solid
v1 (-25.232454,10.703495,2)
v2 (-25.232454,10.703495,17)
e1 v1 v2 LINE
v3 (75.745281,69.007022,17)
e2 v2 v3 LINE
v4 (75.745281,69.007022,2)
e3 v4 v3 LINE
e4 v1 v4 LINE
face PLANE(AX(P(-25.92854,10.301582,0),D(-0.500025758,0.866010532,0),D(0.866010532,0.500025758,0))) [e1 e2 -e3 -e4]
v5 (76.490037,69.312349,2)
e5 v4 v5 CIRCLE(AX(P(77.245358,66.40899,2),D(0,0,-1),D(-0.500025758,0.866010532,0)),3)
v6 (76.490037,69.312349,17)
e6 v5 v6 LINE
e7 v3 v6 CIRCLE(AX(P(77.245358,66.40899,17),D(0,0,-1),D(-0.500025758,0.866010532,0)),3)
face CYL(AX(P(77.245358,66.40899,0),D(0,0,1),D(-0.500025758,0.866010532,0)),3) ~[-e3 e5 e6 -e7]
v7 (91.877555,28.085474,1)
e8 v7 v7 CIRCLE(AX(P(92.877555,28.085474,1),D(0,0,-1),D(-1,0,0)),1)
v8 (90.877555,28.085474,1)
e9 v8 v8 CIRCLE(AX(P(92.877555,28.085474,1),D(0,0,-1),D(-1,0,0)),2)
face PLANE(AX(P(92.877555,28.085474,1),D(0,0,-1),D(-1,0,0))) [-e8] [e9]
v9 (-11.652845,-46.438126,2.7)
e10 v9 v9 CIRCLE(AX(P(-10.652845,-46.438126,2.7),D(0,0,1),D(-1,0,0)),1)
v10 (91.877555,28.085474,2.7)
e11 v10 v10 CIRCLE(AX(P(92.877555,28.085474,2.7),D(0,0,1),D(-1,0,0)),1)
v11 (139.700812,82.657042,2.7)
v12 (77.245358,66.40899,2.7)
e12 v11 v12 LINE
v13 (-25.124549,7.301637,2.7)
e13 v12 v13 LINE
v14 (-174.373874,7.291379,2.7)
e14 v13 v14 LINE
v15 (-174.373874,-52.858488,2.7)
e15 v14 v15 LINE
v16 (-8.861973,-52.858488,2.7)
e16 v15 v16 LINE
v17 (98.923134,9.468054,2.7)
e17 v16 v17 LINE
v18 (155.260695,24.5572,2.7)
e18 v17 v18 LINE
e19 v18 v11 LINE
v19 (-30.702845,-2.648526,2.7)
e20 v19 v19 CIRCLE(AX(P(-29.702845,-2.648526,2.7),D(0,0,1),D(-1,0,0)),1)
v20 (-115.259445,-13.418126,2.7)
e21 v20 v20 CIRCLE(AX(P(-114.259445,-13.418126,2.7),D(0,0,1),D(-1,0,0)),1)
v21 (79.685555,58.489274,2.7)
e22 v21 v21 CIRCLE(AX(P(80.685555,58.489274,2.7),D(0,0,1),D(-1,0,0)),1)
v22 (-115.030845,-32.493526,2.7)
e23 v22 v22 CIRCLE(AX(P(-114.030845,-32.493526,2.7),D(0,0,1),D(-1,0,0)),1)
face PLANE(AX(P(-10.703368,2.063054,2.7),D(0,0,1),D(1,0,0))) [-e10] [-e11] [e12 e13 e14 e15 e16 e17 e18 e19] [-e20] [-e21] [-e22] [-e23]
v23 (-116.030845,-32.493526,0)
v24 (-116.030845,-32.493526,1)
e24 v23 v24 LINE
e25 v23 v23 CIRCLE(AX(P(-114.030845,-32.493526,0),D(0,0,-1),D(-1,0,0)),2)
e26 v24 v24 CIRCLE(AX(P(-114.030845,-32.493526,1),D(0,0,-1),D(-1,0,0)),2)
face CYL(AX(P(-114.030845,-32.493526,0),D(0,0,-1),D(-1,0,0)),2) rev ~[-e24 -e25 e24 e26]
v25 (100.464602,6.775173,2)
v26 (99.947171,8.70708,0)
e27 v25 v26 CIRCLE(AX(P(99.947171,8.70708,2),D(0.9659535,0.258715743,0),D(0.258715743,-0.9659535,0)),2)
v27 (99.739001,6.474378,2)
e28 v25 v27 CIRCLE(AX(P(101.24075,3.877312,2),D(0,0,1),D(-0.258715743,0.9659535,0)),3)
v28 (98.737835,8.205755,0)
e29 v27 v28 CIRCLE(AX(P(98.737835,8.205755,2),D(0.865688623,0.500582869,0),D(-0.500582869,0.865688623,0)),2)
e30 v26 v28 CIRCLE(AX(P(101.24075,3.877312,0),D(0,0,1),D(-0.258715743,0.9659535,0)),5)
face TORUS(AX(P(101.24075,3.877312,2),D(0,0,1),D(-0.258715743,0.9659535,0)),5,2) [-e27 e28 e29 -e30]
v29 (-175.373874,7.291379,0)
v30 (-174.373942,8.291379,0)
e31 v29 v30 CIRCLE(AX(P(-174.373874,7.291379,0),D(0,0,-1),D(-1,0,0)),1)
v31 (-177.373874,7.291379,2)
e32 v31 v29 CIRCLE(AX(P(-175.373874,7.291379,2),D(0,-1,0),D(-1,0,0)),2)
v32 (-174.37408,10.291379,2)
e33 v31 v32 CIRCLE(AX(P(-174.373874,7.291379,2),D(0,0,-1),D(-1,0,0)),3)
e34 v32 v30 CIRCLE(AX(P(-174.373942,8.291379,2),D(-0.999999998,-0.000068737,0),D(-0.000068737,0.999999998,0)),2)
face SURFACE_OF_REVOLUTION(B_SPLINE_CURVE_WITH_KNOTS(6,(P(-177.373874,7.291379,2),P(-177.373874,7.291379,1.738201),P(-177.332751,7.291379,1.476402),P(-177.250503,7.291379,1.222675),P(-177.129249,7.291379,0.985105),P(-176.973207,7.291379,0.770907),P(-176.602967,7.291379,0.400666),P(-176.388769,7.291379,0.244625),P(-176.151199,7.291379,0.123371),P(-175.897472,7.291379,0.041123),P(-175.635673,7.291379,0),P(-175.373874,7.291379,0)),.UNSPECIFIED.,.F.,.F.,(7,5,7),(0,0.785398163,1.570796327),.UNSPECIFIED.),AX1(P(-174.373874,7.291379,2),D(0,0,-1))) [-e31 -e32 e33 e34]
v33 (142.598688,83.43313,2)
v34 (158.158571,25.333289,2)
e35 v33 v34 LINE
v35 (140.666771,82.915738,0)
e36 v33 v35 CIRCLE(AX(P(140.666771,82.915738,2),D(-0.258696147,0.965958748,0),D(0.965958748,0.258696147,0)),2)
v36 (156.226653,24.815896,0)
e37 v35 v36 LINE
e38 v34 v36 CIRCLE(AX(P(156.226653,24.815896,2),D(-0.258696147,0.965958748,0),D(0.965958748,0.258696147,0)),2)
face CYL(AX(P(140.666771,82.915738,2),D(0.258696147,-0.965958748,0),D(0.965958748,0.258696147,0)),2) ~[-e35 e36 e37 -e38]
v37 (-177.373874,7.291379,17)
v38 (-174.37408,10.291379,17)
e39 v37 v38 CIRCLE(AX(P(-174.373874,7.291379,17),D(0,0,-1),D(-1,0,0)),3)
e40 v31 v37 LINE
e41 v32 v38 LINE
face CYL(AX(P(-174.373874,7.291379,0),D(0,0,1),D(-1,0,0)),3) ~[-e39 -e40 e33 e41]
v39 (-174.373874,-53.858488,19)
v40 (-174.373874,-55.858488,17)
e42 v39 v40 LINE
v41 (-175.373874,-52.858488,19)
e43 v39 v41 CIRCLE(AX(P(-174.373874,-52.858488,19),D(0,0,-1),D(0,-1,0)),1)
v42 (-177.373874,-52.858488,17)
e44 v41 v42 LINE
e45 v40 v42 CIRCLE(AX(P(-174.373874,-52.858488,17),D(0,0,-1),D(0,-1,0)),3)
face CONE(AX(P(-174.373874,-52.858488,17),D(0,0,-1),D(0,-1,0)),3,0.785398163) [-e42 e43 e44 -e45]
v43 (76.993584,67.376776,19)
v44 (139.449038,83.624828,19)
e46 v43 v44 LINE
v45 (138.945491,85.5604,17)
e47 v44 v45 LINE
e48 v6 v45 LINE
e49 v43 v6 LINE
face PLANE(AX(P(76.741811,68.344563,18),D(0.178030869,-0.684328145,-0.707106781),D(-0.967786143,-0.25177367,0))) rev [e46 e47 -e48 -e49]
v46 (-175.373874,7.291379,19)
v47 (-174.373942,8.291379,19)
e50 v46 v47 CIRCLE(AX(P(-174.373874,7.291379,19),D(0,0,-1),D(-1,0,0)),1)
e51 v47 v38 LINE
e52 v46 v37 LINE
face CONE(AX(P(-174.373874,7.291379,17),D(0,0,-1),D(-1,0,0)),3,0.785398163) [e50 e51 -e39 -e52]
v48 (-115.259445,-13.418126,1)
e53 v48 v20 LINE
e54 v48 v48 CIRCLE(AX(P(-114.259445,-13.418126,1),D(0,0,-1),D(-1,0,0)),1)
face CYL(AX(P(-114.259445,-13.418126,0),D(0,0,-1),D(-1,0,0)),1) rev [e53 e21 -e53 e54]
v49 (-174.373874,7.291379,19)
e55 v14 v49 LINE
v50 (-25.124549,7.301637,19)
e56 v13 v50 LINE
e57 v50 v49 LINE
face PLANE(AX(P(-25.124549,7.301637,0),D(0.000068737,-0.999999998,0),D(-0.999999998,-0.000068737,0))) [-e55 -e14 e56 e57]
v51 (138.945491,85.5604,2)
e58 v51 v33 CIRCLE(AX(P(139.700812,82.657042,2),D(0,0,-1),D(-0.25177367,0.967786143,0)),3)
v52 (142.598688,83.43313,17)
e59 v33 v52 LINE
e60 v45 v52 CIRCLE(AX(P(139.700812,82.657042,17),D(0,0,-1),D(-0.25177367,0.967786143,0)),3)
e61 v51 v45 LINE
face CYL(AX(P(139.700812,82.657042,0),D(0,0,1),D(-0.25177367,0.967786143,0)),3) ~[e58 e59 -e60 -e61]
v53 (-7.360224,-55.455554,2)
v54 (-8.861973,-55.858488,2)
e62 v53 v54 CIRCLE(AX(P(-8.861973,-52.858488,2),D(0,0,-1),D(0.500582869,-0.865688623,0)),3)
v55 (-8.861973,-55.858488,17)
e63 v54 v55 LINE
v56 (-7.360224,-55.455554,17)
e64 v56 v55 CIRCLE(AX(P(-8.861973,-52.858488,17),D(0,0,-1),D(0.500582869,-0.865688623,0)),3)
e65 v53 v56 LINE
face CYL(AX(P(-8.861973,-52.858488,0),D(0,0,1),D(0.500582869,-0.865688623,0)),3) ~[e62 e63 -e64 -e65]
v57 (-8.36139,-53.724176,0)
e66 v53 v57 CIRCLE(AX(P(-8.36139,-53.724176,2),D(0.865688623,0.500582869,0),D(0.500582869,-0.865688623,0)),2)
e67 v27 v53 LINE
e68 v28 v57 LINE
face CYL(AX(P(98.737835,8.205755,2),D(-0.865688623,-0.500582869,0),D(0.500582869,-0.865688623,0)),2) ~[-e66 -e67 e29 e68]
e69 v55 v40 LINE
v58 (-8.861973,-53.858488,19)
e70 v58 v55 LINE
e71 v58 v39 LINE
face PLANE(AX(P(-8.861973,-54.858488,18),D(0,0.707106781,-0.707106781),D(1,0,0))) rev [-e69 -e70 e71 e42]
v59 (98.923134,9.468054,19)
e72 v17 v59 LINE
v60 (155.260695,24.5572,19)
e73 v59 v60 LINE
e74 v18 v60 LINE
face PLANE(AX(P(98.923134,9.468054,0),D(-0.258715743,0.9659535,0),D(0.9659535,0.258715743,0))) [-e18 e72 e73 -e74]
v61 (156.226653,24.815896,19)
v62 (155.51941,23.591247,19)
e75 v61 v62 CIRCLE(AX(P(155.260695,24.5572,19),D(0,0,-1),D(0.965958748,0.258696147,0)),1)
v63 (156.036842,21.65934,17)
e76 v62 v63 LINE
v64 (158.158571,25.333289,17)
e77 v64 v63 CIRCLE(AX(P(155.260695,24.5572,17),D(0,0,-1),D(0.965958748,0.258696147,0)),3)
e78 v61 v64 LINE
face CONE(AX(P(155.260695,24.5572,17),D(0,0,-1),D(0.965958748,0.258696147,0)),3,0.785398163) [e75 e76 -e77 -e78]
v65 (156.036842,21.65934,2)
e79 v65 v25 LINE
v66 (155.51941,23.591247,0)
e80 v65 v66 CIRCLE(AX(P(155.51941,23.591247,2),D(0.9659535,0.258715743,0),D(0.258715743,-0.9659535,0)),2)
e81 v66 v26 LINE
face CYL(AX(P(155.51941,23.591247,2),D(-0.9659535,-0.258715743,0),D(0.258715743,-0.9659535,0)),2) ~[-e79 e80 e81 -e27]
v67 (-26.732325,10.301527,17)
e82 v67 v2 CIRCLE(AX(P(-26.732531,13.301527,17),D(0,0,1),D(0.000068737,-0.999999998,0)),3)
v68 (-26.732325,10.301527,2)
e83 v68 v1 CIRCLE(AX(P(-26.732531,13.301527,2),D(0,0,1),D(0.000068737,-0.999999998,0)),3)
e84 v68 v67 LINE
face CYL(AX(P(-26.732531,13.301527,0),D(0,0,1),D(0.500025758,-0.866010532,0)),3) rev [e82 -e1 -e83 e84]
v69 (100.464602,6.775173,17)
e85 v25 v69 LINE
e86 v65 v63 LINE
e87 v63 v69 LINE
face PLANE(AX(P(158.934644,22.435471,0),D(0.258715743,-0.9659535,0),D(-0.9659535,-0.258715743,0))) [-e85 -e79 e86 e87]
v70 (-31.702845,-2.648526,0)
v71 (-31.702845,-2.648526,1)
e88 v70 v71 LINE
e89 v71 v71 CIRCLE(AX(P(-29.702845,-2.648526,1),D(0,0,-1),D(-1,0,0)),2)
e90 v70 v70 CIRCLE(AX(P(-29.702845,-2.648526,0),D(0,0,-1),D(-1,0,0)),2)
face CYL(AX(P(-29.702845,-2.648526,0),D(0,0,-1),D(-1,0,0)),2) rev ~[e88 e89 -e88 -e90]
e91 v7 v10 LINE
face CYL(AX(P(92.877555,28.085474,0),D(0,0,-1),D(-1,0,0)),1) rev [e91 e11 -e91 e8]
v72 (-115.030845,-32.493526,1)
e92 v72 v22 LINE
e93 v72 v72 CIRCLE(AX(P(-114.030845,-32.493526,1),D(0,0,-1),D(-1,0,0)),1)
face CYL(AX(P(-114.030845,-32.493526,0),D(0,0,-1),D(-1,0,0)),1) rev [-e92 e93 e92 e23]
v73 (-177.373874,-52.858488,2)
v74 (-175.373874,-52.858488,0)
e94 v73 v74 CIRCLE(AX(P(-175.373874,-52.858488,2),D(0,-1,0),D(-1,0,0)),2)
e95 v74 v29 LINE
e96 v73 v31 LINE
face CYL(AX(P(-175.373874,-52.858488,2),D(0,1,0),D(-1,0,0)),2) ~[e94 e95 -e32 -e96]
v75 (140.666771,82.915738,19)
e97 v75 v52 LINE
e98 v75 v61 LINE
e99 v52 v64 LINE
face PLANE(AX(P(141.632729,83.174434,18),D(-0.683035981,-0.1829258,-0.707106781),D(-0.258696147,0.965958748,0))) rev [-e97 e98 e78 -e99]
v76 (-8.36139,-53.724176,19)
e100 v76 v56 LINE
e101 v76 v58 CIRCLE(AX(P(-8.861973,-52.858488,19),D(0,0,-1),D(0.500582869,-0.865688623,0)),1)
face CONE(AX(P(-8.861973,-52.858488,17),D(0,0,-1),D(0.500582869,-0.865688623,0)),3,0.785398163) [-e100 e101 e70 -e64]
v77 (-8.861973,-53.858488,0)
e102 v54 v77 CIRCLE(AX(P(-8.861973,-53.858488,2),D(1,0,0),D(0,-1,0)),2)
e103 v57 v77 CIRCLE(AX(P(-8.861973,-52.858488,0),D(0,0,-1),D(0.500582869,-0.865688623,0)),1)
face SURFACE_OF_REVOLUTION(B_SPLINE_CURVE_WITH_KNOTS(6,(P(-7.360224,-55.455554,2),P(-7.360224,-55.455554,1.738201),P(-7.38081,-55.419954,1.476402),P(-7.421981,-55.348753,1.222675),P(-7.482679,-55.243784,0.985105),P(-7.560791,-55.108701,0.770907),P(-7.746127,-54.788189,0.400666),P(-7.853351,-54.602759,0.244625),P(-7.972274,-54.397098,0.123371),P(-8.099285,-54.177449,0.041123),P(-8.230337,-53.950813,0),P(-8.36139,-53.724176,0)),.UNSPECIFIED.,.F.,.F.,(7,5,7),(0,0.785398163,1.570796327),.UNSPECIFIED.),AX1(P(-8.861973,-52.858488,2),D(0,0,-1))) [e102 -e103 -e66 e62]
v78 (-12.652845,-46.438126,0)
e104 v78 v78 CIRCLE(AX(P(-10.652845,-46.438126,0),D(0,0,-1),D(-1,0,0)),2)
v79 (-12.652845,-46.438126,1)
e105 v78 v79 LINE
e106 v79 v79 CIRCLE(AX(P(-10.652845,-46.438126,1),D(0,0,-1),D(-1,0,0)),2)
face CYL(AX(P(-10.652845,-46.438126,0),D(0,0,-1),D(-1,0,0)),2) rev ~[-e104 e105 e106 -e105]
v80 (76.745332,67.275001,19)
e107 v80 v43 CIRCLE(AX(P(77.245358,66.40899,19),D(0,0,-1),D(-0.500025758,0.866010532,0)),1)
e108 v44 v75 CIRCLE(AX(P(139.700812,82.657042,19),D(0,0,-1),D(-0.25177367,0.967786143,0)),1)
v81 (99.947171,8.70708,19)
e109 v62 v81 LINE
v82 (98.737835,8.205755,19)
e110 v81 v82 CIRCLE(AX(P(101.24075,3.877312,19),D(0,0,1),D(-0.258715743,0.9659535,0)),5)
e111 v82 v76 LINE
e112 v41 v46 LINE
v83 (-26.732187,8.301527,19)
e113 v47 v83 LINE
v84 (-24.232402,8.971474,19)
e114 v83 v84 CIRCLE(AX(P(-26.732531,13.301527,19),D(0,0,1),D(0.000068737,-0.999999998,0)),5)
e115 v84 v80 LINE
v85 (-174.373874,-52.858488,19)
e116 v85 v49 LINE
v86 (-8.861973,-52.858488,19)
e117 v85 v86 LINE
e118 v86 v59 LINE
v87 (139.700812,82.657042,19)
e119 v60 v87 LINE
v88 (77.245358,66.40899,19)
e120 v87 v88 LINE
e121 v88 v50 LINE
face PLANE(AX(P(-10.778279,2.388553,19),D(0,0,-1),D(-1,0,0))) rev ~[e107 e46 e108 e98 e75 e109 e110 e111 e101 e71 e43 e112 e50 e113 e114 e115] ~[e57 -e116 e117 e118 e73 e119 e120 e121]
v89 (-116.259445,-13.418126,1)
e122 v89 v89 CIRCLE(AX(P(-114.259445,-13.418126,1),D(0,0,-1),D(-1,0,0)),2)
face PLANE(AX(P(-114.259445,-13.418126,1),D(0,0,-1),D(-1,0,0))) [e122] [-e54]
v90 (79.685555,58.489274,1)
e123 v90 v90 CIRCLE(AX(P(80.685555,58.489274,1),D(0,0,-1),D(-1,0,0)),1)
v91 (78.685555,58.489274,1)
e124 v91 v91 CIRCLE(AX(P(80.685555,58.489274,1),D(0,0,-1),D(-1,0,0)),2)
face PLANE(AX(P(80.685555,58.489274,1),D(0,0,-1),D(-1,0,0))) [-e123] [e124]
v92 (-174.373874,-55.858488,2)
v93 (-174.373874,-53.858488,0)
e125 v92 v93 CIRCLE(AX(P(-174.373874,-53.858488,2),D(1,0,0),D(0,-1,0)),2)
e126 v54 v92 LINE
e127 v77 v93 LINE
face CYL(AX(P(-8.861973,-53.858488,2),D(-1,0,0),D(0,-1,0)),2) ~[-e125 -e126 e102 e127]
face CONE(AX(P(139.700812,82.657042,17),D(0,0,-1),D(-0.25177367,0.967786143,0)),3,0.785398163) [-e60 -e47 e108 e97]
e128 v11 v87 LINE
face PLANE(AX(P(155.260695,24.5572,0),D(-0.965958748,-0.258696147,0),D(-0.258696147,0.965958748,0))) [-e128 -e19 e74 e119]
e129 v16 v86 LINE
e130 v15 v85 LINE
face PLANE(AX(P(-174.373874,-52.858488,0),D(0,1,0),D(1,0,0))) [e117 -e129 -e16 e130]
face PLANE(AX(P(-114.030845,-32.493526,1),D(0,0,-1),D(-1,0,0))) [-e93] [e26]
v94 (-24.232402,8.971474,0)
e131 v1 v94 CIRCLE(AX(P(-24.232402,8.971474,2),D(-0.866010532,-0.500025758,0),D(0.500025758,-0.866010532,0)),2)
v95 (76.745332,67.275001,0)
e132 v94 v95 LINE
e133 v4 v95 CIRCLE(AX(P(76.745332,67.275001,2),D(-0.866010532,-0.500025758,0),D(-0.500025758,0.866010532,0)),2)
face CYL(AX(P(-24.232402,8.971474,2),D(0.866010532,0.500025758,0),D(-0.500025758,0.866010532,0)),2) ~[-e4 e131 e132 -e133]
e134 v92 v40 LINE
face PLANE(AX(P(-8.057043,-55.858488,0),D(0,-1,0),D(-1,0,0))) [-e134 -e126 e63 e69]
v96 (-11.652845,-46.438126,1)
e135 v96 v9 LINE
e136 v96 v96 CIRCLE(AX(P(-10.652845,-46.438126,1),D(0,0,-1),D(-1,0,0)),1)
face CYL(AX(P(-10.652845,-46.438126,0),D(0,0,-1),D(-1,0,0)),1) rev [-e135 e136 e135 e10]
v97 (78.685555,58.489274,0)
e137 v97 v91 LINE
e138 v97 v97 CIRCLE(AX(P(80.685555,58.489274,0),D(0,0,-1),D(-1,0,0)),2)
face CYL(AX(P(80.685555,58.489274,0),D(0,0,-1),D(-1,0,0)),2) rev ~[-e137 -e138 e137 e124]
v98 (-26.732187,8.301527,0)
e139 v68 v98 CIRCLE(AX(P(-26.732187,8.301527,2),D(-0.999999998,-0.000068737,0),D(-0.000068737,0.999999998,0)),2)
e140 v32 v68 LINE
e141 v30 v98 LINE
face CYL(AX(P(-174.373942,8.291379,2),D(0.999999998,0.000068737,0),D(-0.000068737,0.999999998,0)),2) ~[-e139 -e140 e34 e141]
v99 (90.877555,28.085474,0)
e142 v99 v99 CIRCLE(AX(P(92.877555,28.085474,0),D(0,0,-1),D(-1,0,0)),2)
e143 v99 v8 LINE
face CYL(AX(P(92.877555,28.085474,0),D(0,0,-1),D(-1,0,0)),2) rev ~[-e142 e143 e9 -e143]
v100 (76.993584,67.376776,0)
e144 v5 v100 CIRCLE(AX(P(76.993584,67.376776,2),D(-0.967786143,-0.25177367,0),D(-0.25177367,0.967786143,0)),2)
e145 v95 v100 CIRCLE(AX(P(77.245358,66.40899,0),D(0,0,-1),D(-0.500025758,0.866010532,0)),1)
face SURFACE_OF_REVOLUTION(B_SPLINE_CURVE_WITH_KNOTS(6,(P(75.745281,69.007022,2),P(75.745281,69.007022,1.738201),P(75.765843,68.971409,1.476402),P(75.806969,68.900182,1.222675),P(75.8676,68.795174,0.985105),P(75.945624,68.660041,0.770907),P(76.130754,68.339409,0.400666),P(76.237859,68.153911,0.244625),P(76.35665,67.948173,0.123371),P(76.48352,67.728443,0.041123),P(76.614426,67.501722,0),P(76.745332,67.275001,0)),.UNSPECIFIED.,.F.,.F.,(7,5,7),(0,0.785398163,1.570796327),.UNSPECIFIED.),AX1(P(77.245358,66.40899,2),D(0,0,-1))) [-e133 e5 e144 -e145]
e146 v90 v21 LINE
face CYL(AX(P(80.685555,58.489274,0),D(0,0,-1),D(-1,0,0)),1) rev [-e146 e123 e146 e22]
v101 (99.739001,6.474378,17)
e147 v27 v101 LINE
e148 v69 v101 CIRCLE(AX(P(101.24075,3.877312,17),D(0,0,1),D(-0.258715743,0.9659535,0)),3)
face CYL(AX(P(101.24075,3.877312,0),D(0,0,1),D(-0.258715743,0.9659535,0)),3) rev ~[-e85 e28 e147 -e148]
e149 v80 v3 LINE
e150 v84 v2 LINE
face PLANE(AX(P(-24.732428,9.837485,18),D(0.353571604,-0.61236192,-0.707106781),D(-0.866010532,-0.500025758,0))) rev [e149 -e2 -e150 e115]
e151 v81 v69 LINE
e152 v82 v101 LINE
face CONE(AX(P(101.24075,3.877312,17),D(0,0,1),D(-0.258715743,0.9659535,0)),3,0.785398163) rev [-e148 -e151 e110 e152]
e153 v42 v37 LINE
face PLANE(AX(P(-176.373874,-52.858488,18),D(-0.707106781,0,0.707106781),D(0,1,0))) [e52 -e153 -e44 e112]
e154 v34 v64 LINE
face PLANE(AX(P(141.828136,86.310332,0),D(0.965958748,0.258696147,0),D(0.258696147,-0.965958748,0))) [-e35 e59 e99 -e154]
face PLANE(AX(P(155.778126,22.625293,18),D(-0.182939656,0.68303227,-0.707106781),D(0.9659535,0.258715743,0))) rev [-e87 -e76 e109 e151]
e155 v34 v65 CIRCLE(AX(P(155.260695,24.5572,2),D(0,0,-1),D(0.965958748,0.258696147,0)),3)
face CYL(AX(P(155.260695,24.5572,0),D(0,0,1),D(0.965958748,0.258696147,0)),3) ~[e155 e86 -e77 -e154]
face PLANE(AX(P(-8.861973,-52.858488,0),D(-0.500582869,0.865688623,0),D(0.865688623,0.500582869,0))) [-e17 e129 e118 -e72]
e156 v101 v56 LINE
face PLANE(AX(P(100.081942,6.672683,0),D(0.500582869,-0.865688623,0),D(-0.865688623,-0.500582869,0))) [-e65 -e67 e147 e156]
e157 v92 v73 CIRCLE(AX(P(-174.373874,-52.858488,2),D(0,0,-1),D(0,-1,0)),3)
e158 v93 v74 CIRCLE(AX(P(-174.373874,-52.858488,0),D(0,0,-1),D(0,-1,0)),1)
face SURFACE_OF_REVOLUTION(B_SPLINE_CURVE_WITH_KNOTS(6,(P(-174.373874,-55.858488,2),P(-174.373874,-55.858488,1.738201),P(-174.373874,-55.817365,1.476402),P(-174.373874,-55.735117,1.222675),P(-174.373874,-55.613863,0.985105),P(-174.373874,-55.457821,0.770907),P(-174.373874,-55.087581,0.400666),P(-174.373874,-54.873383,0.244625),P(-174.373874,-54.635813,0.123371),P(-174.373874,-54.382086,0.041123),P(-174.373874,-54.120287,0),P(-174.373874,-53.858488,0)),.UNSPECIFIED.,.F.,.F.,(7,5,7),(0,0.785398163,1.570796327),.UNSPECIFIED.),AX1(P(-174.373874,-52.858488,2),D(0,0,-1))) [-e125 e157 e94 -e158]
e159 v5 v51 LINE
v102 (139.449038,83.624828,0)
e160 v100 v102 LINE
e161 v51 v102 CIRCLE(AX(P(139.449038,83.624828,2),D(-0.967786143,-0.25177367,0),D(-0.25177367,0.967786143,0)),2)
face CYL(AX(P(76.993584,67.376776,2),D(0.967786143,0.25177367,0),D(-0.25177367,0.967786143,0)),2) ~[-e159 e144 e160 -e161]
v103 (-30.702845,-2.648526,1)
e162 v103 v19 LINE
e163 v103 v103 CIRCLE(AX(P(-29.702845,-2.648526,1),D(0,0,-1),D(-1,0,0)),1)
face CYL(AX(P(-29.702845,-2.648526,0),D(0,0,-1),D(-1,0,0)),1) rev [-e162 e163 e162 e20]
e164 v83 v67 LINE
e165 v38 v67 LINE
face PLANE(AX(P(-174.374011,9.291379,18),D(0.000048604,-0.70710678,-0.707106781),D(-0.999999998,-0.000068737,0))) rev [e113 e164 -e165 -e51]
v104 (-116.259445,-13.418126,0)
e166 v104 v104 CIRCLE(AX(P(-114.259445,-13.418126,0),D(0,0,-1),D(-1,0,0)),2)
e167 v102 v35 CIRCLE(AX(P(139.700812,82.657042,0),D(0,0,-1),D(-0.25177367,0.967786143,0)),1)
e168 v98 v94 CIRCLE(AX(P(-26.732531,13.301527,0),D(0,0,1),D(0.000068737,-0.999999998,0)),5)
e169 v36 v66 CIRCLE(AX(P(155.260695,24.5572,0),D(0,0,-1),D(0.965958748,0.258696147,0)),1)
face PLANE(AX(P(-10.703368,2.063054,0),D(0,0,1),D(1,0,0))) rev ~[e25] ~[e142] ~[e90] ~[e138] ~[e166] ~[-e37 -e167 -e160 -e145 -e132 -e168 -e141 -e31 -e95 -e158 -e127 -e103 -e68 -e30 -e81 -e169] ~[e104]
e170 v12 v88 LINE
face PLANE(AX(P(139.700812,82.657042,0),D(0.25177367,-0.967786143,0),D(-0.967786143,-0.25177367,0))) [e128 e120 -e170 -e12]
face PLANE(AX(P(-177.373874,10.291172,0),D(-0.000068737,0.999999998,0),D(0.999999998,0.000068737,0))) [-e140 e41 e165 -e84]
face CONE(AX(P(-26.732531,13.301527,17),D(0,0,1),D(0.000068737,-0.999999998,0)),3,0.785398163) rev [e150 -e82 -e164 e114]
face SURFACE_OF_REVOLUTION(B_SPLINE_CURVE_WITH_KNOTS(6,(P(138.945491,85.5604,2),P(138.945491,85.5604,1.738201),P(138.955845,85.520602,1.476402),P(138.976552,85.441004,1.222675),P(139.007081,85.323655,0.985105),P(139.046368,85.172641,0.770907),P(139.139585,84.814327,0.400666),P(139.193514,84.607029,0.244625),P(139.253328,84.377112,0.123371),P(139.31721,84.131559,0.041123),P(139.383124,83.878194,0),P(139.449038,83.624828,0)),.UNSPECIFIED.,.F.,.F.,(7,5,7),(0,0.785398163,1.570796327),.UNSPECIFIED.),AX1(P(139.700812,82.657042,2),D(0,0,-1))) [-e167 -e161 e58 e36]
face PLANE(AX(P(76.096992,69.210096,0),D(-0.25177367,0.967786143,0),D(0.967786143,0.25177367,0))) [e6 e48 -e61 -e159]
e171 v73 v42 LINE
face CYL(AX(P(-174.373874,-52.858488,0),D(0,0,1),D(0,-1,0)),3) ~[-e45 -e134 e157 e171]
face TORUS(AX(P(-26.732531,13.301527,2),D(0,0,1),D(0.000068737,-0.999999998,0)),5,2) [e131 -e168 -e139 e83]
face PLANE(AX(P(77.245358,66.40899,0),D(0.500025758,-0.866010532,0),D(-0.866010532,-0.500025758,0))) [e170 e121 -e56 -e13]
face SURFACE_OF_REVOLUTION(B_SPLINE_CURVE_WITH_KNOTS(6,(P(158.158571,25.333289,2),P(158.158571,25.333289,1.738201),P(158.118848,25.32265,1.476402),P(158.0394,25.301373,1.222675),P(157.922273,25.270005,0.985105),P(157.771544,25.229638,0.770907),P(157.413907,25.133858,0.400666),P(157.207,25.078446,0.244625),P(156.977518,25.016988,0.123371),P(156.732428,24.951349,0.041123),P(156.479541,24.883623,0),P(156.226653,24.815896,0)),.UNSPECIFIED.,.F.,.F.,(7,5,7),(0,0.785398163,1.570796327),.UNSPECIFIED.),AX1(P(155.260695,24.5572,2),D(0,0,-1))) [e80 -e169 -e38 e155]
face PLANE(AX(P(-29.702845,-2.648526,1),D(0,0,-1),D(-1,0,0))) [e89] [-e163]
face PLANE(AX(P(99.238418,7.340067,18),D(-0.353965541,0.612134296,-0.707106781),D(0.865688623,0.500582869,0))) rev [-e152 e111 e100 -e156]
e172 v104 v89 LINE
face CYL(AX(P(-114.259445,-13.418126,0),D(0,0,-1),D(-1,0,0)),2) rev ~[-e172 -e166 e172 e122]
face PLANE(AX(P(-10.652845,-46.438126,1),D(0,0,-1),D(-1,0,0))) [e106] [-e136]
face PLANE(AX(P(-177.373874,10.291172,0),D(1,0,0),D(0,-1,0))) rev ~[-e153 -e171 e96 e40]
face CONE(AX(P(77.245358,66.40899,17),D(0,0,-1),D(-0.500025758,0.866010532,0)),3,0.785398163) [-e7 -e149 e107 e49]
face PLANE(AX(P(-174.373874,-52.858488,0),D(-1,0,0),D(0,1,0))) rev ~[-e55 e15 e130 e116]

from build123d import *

# Parameters (mm, degrees)
BOSS_EXTRU_1_DEPTH      = 19
CONG_1_R                = 3
ESQUISSE1_R             = 1
BOSS_EXTRU_2_DEPTH      = 2.7
ESQUISSE2_R             = 2
ESQUISSE2_R_2           = 1
ENL_V_MAT_EXTRU_1_DEPTH = 1
CHANFREIN1_SIZE         = 2
CONG_2_R                = 2


with BuildPart() as part:
    # Model → Boss.-Extru.1 (new body)
    with BuildSketch(Plane.XY):
        Polygon((-25.928539703, 10.301582208), (76.096991945, 69.210096437), (141.828136311, 86.310332452), (158.934643692, 22.435471273), (100.081941761, 6.672683012), (-8.057042666, -55.858487698), (-177.373873722, -55.858487698), (-177.373873722, -50.687645053), (-177.373873722, 10.291172324), align=None)
        Polygon((-25.124548608, 7.301637465), (-174.373873722, 7.291378528), (-174.373873722, -50.687645053), (-174.373873722, -52.858487698), (-8.861972593, -52.858487698), (98.923133978, 9.468053786), (155.26069475, 24.557200291), (139.700811798, 82.657041562), (77.245358051, 66.408990356), align=None, mode=Mode.SUBTRACT)
    extrude(amount=BOSS_EXTRU_1_DEPTH)

    # Congé1
    cong_1_edges = [part.edges().sort_by_distance(p)[0] for p in [
        (76.096991945, 69.210096437, 9.5),
        (141.828136311, 86.310332452, 9.5),
        (158.934643692, 22.435471273, 9.5),
        (100.081941761, 6.672683012, 9.5),
        (-8.057042666, -55.858487698, 9.5),
        (-177.373873722, -55.858487698, 9.5),
        (-177.373873722, 10.291172324, 9.5),
        (-25.928539703, 10.301582208, 9.5),
    ]]
    fillet(cong_1_edges, radius=CONG_1_R)

    # Esquisse1 → Boss.-Extru.2 (add)
    with BuildSketch(Plane.XY):
        Polygon((-25.124548608, 7.301637465), (-174.373873722, 7.291378528), (-174.373873722, -50.687645053), (-174.373873722, -52.858487698), (-8.861972593, -52.858487698), (98.923133978, 9.468053786), (155.26069475, 24.557200291), (139.700811798, 82.657041562), (77.245358051, 66.408990356), align=None)
        with Locations(Location((-114.259444544, -13.418125698, 0), (0, 0, 180))):
            Circle(ESQUISSE1_R, mode=Mode.SUBTRACT)
        with Locations(Location((-114.030844544, -32.493525698, 0), (0, 0, 180))):
            Circle(ESQUISSE1_R, mode=Mode.SUBTRACT)
        with Locations(Location((-29.702844544, -2.648525698, 0), (0, 0, 180))):
            Circle(ESQUISSE1_R, mode=Mode.SUBTRACT)
        with Locations(Location((-10.652844544, -46.438125698, 0), (0, 0, 180))):
            Circle(ESQUISSE1_R, mode=Mode.SUBTRACT)
        with Locations(Location((80.685555456, 58.489274302, 0), (0, 0, 180))):
            Circle(ESQUISSE1_R, mode=Mode.SUBTRACT)
        with Locations(Location((92.877555456, 28.085474302, 0), (0, 0, 180))):
            Circle(ESQUISSE1_R, mode=Mode.SUBTRACT)
    extrude(amount=BOSS_EXTRU_2_DEPTH)

    # Esquisse2 → Enlèv. mat.-Extru.1 (cut)
    # profile 1 of 6: a face of its own
    with BuildSketch(Plane(origin=(0, 0, 0), x_dir=(-1, 0, 0), z_dir=(0, 0, -1))):
        with Locations((-80.685555456, 58.489274302)):
            Circle(ESQUISSE2_R)
        with Locations((-80.685555456, 58.489274302)):
            Circle(ESQUISSE2_R_2, mode=Mode.SUBTRACT)
    # profile 2 of 6: a face of its own
    with BuildSketch(Plane(origin=(0, 0, 0), x_dir=(-1, 0, 0), z_dir=(0, 0, -1))):
        with Locations((-92.877555456, 28.085474302)):
            Circle(ESQUISSE2_R)
        with Locations((-92.877555456, 28.085474302)):
            Circle(ESQUISSE2_R_2, mode=Mode.SUBTRACT)
    # profile 3 of 6: a face of its own
    with BuildSketch(Plane(origin=(0, 0, 0), x_dir=(-1, 0, 0), z_dir=(0, 0, -1))):
        with Locations((29.702844544, -2.648525698)):
            Circle(ESQUISSE2_R)
        with Locations((29.702844544, -2.648525698)):
            Circle(ESQUISSE2_R_2, mode=Mode.SUBTRACT)
    # profile 4 of 6: a face of its own
    with BuildSketch(Plane(origin=(0, 0, 0), x_dir=(-1, 0, 0), z_dir=(0, 0, -1))):
        with Locations((10.652844544, -46.438125698)):
            Circle(ESQUISSE2_R)
        with Locations((10.652844544, -46.438125698)):
            Circle(ESQUISSE2_R_2, mode=Mode.SUBTRACT)
    # profile 5 of 6: a face of its own
    with BuildSketch(Plane(origin=(0, 0, 0), x_dir=(-1, 0, 0), z_dir=(0, 0, -1))):
        with Locations((114.259444544, -13.418125698)):
            Circle(ESQUISSE2_R)
        with Locations((114.259444544, -13.418125698)):
            Circle(ESQUISSE2_R_2, mode=Mode.SUBTRACT)
    # profile 6 of 6: a face of its own
    with BuildSketch(Plane(origin=(0, 0, 0), x_dir=(-1, 0, 0), z_dir=(0, 0, -1))):
        with Locations((114.030844544, -32.493525698)):
            Circle(ESQUISSE2_R)
        with Locations((114.030844544, -32.493525698)):
            Circle(ESQUISSE2_R_2, mode=Mode.SUBTRACT)
    extrude(amount=-ENL_V_MAT_EXTRU_1_DEPTH, mode=Mode.SUBTRACT)

    # Chanfrein1
    chanfrein1_edges = [part.edges().sort_by_distance(p)[0] for p in [
        (-100.55320226, 10.296452739, 19),
        (25.256413626, 39.855258654, 19),
        (107.717763914, 77.436374389, 19),
        (-177.373873722, -22.783554585, 19),
        (-91.617923158, -55.858487698, 19),
        (46.189388475, -24.49058773, 19),
        (128.250722147, 14.217256264, 19),
        (150.378629519, 54.383209367, 19),
        (-176.495266971, 9.412625963, 19),
        (-176.495194066, -54.979808041, 19),
        (-8.084540154, -55.756003669, 19),
        (157.858595311, 23.056896097, 19),
        (141.210432656, 85.249539366, 19),
        (76.107372343, 69.184776466, 19),
        (-25.955930978, 10.403787708, 19),
        (100.091914608, 6.648625697, 19),
    ]]
    chamfer(chanfrein1_edges, length=CHANFREIN1_SIZE)

    # Congé2
    cong_2_edges = [part.edges().sort_by_distance(p)[0] for p in [
        (-100.55320226, 10.296452739, 0),
        (25.256413626, 39.855258654, 0),
        (107.717763914, 77.436374389, 0),
        (150.378629519, 54.383209367, 0),
        (128.250722147, 14.217256264, 0),
        (46.189388475, -24.49058773, 0),
        (-91.617923158, -55.858487698, 0),
        (-177.373873722, -22.783554585, 0),
        (-176.495266971, 9.412625963, 0),
        (-176.495194066, -54.979808041, 0),
        (-8.084540154, -55.756003669, 0),
        (157.858595311, 23.056896097, 0),
        (141.210432656, 85.249539366, 0),
        (76.107372343, 69.184776466, 0),
        (-25.955930978, 10.403787708, 0),
        (100.091914608, 6.648625697, 0),
    ]]
    fillet(cong_2_edges, radius=CONG_2_R)


solid = part.part
